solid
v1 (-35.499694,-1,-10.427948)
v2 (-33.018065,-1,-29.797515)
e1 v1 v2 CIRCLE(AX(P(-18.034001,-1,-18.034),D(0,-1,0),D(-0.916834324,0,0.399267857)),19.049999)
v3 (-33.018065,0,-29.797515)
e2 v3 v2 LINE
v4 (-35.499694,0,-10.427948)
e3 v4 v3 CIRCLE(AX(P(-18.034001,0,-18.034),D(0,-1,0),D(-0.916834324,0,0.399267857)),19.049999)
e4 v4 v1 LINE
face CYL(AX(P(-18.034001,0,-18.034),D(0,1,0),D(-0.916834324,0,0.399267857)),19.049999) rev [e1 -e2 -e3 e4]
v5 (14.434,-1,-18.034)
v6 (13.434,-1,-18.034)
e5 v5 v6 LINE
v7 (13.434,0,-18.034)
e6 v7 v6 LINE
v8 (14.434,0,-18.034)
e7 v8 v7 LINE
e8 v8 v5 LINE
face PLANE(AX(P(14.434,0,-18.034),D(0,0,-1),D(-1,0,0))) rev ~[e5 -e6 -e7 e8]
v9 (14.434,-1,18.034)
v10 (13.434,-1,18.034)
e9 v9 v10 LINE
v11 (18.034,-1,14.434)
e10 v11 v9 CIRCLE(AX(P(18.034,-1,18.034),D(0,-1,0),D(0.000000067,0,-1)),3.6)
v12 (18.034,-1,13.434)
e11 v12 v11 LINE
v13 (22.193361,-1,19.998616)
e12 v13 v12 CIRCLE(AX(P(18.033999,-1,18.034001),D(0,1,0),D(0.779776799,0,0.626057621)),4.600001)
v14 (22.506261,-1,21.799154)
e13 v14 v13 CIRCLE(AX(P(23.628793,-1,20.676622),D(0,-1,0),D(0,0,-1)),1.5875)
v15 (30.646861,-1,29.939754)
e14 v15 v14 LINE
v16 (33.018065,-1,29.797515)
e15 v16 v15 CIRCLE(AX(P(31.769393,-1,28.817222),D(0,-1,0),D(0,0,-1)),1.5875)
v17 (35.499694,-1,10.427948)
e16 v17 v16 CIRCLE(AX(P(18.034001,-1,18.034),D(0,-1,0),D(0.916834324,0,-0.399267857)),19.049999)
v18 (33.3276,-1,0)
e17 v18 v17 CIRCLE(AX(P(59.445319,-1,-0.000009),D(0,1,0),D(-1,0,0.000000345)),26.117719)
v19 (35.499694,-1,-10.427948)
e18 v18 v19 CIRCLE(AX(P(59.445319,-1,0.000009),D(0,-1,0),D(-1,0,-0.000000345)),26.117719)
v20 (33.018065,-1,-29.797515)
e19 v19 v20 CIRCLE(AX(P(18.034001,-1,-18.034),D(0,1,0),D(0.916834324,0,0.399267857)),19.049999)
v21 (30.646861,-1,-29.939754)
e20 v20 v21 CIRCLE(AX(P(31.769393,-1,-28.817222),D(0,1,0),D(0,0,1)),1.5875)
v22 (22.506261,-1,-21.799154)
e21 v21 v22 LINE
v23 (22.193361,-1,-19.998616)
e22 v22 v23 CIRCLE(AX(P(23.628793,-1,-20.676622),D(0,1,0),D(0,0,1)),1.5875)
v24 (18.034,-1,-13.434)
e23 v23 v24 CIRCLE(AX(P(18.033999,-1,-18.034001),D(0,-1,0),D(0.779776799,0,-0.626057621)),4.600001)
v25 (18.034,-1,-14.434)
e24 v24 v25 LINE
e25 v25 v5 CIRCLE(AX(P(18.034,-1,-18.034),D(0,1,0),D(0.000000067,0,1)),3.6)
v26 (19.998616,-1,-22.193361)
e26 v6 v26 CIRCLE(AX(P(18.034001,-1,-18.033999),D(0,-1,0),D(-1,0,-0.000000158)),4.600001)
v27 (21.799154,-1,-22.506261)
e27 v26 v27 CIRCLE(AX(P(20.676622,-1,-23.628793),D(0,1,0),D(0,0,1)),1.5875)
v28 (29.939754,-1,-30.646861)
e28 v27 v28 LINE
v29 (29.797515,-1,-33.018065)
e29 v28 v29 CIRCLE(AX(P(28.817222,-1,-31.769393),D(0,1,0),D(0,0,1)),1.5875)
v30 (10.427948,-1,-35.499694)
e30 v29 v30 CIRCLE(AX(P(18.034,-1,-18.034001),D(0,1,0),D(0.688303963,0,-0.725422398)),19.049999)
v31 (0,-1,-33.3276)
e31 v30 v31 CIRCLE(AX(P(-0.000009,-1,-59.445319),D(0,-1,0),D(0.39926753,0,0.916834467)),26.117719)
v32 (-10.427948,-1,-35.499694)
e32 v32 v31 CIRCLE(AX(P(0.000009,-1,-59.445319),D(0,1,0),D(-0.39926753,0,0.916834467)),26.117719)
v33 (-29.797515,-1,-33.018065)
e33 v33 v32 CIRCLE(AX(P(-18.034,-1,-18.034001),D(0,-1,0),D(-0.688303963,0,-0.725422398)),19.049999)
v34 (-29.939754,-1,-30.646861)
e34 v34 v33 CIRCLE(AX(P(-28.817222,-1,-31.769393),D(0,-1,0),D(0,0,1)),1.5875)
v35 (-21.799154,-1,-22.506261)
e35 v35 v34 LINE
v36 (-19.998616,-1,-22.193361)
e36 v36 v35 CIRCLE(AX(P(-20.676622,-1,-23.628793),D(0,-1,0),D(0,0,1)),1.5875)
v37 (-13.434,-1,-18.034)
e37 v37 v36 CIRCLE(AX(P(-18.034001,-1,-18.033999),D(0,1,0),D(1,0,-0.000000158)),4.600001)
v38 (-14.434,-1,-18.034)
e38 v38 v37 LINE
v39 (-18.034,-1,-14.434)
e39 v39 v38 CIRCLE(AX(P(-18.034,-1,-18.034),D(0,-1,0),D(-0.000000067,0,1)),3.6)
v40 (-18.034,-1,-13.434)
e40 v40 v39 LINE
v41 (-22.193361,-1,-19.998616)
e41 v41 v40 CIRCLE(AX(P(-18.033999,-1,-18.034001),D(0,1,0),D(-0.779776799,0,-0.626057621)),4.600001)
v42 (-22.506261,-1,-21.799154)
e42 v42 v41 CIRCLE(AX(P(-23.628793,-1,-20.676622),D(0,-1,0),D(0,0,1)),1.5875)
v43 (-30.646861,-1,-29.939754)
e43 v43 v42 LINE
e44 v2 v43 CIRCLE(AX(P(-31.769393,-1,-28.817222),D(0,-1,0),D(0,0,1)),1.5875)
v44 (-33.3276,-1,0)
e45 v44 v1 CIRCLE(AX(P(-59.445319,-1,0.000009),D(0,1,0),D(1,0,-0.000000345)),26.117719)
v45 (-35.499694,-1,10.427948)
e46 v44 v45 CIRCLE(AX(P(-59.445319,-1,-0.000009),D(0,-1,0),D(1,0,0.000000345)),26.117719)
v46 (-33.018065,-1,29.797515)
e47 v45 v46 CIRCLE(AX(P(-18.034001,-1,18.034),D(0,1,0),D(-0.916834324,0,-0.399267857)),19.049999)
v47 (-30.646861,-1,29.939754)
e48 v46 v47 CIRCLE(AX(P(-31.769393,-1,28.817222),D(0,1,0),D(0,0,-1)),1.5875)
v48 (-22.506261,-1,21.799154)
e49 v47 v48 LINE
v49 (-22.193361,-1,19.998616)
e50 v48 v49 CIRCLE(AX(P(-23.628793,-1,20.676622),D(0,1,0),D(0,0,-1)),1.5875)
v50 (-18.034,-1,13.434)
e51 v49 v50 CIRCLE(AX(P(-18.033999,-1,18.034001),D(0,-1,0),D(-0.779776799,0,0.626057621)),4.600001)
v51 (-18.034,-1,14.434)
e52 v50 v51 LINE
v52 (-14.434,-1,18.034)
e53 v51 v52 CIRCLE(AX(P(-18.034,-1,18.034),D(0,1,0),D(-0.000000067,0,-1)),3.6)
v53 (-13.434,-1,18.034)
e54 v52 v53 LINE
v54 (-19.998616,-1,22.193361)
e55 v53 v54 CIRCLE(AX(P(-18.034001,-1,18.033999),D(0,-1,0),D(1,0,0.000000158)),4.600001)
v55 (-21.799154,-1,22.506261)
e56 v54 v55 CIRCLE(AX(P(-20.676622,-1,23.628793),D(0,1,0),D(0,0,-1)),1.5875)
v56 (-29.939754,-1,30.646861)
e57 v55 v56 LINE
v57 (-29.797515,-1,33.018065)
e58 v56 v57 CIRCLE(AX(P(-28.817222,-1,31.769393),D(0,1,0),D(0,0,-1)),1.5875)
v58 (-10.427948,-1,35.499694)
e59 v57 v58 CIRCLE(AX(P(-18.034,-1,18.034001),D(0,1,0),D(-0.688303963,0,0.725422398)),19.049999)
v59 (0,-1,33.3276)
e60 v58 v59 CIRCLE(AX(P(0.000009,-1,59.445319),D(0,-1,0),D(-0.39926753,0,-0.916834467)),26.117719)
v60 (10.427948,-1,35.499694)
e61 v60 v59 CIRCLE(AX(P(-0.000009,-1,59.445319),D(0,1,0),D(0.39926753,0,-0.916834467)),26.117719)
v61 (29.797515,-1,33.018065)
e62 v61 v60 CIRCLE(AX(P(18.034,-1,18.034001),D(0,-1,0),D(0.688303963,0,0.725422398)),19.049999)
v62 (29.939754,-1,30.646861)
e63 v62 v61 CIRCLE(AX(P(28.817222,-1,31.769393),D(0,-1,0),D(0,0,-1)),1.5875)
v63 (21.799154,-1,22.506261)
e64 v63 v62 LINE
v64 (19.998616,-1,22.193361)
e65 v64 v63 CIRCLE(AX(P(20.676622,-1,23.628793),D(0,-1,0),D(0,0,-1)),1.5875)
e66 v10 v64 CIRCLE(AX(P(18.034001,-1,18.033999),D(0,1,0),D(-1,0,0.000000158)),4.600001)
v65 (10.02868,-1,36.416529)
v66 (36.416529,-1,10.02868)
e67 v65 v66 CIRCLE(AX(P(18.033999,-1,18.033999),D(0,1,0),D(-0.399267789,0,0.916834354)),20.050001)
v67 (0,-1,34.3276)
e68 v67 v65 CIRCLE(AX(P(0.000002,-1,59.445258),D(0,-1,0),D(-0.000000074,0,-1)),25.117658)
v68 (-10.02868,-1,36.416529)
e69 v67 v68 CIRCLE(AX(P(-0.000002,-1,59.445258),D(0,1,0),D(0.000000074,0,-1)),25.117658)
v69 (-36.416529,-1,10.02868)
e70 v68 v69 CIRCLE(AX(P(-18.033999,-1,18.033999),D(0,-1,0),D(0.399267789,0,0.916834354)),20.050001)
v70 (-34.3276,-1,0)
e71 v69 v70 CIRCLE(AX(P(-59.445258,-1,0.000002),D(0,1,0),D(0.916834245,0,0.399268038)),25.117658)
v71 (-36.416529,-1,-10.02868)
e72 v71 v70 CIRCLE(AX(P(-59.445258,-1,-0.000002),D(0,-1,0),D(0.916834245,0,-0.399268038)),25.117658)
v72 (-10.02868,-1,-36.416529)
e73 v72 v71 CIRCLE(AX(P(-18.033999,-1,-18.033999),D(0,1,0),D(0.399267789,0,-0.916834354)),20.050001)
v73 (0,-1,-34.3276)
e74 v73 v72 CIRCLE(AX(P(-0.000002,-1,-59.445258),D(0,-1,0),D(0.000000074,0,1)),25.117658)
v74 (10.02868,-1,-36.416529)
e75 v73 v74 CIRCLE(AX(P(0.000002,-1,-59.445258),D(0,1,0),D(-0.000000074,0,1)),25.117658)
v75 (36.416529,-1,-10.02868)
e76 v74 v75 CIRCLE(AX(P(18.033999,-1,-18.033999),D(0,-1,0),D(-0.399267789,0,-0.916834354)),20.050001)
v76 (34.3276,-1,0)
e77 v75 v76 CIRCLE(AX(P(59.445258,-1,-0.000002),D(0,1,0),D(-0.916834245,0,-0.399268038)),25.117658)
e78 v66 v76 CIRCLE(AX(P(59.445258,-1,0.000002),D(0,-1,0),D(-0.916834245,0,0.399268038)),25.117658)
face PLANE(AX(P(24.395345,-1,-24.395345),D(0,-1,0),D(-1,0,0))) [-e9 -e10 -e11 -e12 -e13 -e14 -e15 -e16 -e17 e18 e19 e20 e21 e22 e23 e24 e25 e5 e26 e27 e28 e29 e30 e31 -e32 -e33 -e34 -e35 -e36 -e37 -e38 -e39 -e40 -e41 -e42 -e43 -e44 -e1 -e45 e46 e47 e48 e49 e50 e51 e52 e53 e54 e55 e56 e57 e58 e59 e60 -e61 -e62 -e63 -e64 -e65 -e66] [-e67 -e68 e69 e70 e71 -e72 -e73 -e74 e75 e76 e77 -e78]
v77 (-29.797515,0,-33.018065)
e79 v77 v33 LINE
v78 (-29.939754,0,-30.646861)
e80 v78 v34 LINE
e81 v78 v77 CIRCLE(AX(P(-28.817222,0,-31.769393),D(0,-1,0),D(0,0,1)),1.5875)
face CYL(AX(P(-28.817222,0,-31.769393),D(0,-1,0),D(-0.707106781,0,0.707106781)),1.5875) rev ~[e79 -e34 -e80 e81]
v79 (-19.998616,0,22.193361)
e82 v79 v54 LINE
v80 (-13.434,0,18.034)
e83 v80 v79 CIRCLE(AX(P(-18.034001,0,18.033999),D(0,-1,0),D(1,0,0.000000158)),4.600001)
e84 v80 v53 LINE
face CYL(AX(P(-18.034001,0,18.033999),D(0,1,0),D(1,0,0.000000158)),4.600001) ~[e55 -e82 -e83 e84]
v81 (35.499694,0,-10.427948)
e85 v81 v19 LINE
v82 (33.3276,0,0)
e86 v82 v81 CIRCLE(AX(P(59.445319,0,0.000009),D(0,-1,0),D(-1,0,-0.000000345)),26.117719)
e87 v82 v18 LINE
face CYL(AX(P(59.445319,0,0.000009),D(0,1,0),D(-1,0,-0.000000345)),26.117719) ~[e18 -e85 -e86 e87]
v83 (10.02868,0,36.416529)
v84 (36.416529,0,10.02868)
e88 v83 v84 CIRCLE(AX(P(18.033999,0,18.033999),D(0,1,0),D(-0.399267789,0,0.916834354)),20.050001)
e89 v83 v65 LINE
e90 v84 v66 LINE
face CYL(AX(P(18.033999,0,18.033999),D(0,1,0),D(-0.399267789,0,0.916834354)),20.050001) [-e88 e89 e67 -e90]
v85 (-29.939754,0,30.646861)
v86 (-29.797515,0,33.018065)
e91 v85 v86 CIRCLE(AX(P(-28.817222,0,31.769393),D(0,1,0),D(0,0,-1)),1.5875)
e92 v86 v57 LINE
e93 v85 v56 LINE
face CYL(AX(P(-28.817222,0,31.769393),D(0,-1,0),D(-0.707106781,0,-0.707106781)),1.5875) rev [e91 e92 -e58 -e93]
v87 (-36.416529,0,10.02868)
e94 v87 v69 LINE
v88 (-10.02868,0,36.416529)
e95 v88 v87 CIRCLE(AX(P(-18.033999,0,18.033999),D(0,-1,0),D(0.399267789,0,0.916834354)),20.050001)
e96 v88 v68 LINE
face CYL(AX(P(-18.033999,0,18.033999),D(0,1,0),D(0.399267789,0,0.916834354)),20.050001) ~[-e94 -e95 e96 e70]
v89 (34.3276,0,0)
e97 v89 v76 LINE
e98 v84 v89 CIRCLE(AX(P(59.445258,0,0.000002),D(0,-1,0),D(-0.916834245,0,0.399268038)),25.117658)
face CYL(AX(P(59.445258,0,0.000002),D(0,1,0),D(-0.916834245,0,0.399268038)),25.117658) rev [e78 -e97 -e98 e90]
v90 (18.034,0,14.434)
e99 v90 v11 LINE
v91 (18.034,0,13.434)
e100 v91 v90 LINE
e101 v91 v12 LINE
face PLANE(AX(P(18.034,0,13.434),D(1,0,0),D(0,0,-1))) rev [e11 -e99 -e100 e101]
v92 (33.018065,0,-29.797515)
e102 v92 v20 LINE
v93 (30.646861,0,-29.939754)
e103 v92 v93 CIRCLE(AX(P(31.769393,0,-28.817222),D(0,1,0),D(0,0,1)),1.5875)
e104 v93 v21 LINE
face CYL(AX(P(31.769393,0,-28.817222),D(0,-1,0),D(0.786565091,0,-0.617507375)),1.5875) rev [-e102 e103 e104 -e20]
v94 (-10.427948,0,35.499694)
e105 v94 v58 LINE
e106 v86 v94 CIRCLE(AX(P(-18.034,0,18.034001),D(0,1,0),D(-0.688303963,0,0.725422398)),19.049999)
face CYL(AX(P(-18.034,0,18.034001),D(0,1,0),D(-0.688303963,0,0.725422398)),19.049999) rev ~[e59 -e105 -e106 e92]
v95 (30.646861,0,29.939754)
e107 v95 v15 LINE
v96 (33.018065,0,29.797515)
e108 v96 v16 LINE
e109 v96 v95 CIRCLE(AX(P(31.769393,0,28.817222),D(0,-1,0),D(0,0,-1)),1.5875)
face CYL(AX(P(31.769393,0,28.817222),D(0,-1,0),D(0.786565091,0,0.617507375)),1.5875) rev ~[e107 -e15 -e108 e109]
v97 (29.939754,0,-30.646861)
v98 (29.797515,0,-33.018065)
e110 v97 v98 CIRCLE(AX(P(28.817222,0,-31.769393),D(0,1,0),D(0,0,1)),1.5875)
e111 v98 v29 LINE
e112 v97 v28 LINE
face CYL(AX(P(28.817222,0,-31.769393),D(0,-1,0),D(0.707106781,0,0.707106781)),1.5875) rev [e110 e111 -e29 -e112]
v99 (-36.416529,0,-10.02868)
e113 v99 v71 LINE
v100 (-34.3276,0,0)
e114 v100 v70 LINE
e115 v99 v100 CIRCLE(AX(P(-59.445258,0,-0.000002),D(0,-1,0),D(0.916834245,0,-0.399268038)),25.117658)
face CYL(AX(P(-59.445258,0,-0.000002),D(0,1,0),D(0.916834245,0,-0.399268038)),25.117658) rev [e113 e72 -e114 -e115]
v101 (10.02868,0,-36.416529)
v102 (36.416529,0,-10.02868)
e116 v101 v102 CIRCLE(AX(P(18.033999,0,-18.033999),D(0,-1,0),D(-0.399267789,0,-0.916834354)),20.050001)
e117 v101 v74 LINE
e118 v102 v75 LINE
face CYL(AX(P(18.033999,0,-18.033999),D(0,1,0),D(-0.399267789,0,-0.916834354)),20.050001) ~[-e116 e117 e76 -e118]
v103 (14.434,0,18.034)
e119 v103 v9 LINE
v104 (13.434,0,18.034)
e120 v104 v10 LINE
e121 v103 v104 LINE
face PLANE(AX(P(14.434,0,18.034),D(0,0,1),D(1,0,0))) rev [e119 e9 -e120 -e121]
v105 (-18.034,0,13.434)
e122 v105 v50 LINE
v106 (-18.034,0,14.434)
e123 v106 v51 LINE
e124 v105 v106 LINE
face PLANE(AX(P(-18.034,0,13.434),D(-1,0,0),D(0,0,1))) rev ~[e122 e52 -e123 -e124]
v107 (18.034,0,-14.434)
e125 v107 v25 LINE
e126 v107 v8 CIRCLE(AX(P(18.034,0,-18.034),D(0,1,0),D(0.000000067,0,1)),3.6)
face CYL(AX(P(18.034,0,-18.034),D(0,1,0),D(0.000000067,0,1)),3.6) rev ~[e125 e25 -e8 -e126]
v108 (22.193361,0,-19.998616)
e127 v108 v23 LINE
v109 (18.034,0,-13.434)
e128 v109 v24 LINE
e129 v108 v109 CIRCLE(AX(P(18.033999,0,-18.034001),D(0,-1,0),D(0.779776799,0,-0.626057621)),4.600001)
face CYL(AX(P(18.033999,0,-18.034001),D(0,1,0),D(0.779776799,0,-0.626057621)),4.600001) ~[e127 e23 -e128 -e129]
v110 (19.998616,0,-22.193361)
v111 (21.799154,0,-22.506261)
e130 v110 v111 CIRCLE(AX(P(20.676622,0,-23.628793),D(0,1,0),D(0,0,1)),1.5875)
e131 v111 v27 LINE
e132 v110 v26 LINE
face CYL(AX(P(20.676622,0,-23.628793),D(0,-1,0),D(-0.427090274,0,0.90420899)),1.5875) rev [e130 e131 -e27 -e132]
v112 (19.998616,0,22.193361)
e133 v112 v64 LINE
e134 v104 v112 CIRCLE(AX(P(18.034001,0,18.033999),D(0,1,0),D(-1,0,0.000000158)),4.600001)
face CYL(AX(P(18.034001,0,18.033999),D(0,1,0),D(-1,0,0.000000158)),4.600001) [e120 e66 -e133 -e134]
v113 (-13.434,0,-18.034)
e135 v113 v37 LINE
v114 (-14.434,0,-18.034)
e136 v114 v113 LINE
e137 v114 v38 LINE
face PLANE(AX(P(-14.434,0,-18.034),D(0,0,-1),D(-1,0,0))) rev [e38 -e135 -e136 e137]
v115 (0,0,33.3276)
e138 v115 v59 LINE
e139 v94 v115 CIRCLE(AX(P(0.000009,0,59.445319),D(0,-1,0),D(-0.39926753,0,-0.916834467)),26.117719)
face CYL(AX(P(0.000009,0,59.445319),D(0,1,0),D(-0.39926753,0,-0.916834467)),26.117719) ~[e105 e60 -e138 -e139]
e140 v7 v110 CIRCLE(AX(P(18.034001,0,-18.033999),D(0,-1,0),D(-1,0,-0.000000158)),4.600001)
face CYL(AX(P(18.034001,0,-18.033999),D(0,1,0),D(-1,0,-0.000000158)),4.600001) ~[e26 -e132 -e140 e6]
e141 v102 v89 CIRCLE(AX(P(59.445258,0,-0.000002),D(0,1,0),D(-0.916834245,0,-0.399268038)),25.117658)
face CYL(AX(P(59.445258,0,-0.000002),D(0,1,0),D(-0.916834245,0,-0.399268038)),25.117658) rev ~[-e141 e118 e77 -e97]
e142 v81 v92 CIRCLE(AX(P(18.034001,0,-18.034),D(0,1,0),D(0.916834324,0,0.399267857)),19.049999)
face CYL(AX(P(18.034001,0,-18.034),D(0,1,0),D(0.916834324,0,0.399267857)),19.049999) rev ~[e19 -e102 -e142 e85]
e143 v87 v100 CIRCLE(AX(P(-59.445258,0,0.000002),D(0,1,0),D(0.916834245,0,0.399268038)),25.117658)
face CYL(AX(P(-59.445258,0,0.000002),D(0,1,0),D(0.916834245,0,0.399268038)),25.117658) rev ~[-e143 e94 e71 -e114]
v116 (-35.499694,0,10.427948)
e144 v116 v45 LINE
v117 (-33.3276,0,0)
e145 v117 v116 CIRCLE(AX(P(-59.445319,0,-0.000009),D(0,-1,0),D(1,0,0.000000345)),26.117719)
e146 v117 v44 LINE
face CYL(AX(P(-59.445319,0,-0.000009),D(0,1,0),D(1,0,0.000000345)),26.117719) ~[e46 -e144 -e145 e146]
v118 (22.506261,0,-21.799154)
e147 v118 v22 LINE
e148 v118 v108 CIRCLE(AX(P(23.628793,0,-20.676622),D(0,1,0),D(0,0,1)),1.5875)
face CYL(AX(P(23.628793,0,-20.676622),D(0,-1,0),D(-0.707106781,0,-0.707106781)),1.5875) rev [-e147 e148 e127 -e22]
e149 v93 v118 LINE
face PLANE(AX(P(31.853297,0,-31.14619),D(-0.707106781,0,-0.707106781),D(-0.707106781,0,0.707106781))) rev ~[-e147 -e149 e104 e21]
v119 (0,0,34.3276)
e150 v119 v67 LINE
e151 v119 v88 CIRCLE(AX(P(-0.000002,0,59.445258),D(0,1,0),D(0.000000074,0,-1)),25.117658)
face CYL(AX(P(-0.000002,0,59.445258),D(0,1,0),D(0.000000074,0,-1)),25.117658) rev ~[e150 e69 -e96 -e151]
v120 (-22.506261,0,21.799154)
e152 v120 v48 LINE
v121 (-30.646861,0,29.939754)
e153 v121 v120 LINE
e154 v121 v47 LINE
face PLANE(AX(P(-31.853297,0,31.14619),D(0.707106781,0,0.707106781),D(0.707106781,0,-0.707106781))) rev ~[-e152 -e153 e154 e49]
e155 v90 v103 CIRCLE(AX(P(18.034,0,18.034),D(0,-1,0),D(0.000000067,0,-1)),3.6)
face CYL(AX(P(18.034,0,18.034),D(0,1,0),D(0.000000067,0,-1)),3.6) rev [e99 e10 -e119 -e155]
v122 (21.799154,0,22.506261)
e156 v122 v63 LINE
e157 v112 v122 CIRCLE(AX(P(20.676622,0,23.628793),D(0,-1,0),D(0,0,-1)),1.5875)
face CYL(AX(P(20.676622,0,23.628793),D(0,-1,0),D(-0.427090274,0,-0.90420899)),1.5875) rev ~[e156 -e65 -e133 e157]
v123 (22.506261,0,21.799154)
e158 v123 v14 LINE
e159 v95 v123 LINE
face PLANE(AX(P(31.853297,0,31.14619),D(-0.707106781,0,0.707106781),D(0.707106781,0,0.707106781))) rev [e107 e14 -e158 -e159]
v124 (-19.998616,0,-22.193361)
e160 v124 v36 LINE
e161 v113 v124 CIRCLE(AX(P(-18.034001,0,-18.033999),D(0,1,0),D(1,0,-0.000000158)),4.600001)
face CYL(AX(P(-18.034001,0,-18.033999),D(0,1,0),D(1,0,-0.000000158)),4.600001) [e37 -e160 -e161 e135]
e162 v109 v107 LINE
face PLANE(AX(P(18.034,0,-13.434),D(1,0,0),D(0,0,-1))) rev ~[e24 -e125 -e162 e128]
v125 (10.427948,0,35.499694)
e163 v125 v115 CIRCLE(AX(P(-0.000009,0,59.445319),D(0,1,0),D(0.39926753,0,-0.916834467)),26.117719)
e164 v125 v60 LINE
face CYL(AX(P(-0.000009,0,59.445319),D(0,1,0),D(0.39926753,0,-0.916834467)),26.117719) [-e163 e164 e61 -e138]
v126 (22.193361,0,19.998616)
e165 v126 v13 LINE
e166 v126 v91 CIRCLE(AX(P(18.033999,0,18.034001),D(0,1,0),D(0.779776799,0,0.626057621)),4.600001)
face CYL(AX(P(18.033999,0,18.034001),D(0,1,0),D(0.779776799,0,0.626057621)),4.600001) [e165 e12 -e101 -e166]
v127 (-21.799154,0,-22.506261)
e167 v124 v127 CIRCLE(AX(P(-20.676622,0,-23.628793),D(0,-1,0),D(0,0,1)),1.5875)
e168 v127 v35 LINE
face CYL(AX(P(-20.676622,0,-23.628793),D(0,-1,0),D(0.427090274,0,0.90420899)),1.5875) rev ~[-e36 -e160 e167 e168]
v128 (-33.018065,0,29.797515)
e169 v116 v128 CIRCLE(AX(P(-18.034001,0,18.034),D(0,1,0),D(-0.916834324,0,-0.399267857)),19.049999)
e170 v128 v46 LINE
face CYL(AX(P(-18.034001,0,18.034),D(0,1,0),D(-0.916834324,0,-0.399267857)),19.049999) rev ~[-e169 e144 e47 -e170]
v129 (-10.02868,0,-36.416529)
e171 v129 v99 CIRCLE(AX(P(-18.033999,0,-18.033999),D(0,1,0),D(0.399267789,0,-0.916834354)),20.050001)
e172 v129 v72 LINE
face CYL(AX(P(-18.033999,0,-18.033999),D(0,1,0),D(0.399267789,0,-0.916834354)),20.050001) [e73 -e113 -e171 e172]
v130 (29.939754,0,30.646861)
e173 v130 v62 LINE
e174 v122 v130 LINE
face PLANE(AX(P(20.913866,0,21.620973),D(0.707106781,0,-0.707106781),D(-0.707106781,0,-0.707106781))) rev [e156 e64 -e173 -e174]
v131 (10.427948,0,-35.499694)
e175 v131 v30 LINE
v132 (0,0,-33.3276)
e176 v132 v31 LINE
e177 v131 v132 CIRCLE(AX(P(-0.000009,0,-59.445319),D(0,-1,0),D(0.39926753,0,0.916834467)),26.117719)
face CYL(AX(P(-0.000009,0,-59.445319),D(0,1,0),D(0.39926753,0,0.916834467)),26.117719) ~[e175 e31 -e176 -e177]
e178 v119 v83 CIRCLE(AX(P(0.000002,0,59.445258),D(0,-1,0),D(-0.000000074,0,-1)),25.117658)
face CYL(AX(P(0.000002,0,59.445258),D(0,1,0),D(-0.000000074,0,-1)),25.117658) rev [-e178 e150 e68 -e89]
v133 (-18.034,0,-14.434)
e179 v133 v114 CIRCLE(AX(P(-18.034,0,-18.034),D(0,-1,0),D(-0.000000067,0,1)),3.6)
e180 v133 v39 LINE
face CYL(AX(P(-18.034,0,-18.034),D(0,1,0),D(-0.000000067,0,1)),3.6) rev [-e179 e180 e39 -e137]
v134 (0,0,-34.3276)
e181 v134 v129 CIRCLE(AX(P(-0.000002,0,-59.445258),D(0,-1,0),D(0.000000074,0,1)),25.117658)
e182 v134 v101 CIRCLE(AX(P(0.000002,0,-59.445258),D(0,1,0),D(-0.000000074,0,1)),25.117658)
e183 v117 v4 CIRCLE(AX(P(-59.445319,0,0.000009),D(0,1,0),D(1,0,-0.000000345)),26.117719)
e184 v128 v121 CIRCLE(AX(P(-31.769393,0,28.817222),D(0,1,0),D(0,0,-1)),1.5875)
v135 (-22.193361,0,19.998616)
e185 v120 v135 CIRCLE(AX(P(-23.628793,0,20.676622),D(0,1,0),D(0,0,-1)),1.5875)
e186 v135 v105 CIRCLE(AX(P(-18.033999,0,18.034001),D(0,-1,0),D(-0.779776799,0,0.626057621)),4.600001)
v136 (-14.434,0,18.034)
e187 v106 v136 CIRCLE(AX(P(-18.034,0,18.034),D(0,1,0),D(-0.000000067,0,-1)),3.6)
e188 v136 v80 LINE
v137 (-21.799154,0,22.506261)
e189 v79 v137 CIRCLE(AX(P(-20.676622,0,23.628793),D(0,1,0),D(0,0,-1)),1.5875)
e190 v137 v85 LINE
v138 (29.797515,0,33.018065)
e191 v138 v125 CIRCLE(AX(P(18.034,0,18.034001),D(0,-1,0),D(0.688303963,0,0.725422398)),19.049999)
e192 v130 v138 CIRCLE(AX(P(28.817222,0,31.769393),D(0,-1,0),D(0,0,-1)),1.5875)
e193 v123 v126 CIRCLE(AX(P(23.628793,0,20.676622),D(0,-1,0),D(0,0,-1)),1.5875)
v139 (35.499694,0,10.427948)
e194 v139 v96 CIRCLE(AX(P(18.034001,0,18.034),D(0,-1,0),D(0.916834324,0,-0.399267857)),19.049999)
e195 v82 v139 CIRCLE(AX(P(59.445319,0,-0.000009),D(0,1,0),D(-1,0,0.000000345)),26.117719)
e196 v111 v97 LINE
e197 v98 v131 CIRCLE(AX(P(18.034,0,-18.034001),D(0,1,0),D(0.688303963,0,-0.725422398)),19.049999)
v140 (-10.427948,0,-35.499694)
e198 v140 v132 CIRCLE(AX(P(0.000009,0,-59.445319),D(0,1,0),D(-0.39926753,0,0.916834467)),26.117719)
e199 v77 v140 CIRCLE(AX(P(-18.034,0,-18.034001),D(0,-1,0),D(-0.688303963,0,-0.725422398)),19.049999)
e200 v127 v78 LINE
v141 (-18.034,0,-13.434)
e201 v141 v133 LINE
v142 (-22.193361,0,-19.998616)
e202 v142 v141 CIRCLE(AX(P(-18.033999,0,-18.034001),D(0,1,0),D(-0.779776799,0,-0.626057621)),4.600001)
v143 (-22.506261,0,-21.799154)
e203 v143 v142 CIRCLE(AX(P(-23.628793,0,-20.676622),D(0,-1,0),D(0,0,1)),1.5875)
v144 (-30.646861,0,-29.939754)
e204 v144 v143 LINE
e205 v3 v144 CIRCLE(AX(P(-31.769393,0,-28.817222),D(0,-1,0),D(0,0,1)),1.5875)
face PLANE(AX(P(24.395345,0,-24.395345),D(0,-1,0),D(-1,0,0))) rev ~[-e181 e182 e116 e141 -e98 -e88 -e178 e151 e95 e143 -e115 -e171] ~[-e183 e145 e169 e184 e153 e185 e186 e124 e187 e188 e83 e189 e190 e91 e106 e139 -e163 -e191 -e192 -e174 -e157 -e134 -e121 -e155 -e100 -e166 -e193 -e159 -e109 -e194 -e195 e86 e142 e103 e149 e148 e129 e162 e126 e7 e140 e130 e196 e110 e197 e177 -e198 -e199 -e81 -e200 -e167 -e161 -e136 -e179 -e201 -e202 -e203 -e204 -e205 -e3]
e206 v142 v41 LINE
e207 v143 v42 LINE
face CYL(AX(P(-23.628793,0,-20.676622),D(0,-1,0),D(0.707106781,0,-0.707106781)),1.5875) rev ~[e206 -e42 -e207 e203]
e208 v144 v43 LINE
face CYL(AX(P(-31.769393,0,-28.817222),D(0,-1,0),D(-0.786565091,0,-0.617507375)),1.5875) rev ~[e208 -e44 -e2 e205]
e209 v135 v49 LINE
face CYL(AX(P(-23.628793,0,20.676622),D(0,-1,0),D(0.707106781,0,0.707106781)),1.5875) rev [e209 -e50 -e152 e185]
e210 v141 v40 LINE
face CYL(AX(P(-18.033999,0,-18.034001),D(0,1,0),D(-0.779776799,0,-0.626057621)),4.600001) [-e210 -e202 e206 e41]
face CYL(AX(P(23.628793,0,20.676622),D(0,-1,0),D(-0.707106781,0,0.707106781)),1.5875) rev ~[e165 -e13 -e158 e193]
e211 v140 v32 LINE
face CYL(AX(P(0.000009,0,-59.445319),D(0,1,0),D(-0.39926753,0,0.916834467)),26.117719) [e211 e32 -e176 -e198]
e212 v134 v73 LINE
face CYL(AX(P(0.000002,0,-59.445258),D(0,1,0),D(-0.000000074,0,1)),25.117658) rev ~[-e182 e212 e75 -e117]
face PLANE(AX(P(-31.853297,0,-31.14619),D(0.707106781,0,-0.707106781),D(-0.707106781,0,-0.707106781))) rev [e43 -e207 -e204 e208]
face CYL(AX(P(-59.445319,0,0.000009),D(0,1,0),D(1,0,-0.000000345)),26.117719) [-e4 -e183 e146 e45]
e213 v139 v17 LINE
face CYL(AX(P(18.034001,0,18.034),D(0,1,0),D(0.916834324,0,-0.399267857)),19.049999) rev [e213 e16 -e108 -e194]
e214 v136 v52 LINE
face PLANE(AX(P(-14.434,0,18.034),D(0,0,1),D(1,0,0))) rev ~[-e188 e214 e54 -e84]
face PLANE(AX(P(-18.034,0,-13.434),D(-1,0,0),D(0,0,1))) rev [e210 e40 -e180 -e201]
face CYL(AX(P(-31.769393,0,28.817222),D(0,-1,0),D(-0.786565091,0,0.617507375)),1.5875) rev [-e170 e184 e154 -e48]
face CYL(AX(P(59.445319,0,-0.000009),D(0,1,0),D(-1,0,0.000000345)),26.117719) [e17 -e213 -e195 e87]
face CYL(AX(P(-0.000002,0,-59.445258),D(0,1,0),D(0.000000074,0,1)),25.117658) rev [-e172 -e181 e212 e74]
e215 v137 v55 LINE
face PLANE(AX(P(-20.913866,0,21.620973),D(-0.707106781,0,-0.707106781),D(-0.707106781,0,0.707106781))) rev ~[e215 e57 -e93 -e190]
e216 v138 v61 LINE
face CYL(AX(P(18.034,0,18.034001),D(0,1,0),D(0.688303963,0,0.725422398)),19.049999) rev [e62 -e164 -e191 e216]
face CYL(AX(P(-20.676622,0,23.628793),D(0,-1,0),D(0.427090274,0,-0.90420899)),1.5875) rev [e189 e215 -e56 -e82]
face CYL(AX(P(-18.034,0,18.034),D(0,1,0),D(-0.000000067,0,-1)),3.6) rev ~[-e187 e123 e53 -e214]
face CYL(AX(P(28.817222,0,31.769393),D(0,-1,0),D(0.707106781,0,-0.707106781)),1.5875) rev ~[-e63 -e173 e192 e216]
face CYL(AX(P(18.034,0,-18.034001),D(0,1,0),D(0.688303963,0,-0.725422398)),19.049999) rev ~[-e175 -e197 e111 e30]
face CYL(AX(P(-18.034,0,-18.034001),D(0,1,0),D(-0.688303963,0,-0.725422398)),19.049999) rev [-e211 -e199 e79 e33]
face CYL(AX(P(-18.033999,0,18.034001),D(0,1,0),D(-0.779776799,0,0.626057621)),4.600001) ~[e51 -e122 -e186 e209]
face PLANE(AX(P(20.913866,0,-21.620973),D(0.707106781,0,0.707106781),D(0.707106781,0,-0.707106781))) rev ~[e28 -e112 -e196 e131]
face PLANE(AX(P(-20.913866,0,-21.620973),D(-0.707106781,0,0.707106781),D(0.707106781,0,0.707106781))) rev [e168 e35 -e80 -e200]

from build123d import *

# Parameters (mm, degrees)
F1_DEPTH = 1
F2_R     = 1.5875


with BuildPart() as f1:
    # F0 (on Front) → F1 (new body)
    with BuildSketch(Plane.XZ):
        with BuildLine():
            ThreePointArc((-18.034, 14.434), (-20.579584, 20.579584), (-14.434, 18.034))
            Line((-14.434, 18.034), (-13.434, 18.034))
            ThreePointArc((-13.434, 18.034), (-16.044953, 22.181733), (-20.913866, 21.620973))
            Line((-20.913866, 21.620973), (-31.14619, 31.853297))
            ThreePointArc((-31.14619, 31.853297), (-21.336036, 36.795638), (-10.427948, 35.499694))
            ThreePointArc((-10.427948, 35.499694), (-5.325882, 33.87639), (0, 33.3276))
            Line((0, 33.3276), (0, 34.3276))
            ThreePointArc((0, 34.3276), (-5.121964, 34.855377), (-10.02868, 36.416529))
            ThreePointArc((-10.02868, 36.416529), (-32.211491, 32.211491), (-36.416529, 10.02868))
            ThreePointArc((-36.416529, 10.02868), (-34.855377, 5.121964), (-34.3276, 0))
            Line((-34.3276, 0), (-33.3276, 0))
            ThreePointArc((-33.3276, 0), (-33.87639, 5.325882), (-35.499694, 10.427948))
            ThreePointArc((-35.499694, 10.427948), (-36.795638, 21.336036), (-31.853297, 31.14619))
            Line((-31.853297, 31.14619), (-21.620973, 20.913866))
            ThreePointArc((-21.620973, 20.913866), (-22.181733, 16.044953), (-18.034, 13.434))
            Line((-18.034, 13.434), (-18.034, 14.434))
        make_face()
    extrude(amount=F1_DEPTH)

    # F2
    f2_edges = [f1.edges().sort_by_distance(p)[0] for p in [
        (-31.853297, -0.5, 31.14619),
        (-31.14619, -0.5, 31.853297),
        (-20.913866, -0.5, 21.620973),
        (-21.620973, -0.5, 20.913866),
    ]]
    fillet(f2_edges, radius=F2_R)

    # F3: F1 across plane


with BuildPart() as f1_1:
    add(f1.part)
    add(f1.part.mirror(Plane.XY))

    # F4: F1 across plane


with BuildPart() as f1_2:
    add(f1_1.part)
    add(f1_1.part.mirror(Plane.YZ))


solid = f1_2.part
